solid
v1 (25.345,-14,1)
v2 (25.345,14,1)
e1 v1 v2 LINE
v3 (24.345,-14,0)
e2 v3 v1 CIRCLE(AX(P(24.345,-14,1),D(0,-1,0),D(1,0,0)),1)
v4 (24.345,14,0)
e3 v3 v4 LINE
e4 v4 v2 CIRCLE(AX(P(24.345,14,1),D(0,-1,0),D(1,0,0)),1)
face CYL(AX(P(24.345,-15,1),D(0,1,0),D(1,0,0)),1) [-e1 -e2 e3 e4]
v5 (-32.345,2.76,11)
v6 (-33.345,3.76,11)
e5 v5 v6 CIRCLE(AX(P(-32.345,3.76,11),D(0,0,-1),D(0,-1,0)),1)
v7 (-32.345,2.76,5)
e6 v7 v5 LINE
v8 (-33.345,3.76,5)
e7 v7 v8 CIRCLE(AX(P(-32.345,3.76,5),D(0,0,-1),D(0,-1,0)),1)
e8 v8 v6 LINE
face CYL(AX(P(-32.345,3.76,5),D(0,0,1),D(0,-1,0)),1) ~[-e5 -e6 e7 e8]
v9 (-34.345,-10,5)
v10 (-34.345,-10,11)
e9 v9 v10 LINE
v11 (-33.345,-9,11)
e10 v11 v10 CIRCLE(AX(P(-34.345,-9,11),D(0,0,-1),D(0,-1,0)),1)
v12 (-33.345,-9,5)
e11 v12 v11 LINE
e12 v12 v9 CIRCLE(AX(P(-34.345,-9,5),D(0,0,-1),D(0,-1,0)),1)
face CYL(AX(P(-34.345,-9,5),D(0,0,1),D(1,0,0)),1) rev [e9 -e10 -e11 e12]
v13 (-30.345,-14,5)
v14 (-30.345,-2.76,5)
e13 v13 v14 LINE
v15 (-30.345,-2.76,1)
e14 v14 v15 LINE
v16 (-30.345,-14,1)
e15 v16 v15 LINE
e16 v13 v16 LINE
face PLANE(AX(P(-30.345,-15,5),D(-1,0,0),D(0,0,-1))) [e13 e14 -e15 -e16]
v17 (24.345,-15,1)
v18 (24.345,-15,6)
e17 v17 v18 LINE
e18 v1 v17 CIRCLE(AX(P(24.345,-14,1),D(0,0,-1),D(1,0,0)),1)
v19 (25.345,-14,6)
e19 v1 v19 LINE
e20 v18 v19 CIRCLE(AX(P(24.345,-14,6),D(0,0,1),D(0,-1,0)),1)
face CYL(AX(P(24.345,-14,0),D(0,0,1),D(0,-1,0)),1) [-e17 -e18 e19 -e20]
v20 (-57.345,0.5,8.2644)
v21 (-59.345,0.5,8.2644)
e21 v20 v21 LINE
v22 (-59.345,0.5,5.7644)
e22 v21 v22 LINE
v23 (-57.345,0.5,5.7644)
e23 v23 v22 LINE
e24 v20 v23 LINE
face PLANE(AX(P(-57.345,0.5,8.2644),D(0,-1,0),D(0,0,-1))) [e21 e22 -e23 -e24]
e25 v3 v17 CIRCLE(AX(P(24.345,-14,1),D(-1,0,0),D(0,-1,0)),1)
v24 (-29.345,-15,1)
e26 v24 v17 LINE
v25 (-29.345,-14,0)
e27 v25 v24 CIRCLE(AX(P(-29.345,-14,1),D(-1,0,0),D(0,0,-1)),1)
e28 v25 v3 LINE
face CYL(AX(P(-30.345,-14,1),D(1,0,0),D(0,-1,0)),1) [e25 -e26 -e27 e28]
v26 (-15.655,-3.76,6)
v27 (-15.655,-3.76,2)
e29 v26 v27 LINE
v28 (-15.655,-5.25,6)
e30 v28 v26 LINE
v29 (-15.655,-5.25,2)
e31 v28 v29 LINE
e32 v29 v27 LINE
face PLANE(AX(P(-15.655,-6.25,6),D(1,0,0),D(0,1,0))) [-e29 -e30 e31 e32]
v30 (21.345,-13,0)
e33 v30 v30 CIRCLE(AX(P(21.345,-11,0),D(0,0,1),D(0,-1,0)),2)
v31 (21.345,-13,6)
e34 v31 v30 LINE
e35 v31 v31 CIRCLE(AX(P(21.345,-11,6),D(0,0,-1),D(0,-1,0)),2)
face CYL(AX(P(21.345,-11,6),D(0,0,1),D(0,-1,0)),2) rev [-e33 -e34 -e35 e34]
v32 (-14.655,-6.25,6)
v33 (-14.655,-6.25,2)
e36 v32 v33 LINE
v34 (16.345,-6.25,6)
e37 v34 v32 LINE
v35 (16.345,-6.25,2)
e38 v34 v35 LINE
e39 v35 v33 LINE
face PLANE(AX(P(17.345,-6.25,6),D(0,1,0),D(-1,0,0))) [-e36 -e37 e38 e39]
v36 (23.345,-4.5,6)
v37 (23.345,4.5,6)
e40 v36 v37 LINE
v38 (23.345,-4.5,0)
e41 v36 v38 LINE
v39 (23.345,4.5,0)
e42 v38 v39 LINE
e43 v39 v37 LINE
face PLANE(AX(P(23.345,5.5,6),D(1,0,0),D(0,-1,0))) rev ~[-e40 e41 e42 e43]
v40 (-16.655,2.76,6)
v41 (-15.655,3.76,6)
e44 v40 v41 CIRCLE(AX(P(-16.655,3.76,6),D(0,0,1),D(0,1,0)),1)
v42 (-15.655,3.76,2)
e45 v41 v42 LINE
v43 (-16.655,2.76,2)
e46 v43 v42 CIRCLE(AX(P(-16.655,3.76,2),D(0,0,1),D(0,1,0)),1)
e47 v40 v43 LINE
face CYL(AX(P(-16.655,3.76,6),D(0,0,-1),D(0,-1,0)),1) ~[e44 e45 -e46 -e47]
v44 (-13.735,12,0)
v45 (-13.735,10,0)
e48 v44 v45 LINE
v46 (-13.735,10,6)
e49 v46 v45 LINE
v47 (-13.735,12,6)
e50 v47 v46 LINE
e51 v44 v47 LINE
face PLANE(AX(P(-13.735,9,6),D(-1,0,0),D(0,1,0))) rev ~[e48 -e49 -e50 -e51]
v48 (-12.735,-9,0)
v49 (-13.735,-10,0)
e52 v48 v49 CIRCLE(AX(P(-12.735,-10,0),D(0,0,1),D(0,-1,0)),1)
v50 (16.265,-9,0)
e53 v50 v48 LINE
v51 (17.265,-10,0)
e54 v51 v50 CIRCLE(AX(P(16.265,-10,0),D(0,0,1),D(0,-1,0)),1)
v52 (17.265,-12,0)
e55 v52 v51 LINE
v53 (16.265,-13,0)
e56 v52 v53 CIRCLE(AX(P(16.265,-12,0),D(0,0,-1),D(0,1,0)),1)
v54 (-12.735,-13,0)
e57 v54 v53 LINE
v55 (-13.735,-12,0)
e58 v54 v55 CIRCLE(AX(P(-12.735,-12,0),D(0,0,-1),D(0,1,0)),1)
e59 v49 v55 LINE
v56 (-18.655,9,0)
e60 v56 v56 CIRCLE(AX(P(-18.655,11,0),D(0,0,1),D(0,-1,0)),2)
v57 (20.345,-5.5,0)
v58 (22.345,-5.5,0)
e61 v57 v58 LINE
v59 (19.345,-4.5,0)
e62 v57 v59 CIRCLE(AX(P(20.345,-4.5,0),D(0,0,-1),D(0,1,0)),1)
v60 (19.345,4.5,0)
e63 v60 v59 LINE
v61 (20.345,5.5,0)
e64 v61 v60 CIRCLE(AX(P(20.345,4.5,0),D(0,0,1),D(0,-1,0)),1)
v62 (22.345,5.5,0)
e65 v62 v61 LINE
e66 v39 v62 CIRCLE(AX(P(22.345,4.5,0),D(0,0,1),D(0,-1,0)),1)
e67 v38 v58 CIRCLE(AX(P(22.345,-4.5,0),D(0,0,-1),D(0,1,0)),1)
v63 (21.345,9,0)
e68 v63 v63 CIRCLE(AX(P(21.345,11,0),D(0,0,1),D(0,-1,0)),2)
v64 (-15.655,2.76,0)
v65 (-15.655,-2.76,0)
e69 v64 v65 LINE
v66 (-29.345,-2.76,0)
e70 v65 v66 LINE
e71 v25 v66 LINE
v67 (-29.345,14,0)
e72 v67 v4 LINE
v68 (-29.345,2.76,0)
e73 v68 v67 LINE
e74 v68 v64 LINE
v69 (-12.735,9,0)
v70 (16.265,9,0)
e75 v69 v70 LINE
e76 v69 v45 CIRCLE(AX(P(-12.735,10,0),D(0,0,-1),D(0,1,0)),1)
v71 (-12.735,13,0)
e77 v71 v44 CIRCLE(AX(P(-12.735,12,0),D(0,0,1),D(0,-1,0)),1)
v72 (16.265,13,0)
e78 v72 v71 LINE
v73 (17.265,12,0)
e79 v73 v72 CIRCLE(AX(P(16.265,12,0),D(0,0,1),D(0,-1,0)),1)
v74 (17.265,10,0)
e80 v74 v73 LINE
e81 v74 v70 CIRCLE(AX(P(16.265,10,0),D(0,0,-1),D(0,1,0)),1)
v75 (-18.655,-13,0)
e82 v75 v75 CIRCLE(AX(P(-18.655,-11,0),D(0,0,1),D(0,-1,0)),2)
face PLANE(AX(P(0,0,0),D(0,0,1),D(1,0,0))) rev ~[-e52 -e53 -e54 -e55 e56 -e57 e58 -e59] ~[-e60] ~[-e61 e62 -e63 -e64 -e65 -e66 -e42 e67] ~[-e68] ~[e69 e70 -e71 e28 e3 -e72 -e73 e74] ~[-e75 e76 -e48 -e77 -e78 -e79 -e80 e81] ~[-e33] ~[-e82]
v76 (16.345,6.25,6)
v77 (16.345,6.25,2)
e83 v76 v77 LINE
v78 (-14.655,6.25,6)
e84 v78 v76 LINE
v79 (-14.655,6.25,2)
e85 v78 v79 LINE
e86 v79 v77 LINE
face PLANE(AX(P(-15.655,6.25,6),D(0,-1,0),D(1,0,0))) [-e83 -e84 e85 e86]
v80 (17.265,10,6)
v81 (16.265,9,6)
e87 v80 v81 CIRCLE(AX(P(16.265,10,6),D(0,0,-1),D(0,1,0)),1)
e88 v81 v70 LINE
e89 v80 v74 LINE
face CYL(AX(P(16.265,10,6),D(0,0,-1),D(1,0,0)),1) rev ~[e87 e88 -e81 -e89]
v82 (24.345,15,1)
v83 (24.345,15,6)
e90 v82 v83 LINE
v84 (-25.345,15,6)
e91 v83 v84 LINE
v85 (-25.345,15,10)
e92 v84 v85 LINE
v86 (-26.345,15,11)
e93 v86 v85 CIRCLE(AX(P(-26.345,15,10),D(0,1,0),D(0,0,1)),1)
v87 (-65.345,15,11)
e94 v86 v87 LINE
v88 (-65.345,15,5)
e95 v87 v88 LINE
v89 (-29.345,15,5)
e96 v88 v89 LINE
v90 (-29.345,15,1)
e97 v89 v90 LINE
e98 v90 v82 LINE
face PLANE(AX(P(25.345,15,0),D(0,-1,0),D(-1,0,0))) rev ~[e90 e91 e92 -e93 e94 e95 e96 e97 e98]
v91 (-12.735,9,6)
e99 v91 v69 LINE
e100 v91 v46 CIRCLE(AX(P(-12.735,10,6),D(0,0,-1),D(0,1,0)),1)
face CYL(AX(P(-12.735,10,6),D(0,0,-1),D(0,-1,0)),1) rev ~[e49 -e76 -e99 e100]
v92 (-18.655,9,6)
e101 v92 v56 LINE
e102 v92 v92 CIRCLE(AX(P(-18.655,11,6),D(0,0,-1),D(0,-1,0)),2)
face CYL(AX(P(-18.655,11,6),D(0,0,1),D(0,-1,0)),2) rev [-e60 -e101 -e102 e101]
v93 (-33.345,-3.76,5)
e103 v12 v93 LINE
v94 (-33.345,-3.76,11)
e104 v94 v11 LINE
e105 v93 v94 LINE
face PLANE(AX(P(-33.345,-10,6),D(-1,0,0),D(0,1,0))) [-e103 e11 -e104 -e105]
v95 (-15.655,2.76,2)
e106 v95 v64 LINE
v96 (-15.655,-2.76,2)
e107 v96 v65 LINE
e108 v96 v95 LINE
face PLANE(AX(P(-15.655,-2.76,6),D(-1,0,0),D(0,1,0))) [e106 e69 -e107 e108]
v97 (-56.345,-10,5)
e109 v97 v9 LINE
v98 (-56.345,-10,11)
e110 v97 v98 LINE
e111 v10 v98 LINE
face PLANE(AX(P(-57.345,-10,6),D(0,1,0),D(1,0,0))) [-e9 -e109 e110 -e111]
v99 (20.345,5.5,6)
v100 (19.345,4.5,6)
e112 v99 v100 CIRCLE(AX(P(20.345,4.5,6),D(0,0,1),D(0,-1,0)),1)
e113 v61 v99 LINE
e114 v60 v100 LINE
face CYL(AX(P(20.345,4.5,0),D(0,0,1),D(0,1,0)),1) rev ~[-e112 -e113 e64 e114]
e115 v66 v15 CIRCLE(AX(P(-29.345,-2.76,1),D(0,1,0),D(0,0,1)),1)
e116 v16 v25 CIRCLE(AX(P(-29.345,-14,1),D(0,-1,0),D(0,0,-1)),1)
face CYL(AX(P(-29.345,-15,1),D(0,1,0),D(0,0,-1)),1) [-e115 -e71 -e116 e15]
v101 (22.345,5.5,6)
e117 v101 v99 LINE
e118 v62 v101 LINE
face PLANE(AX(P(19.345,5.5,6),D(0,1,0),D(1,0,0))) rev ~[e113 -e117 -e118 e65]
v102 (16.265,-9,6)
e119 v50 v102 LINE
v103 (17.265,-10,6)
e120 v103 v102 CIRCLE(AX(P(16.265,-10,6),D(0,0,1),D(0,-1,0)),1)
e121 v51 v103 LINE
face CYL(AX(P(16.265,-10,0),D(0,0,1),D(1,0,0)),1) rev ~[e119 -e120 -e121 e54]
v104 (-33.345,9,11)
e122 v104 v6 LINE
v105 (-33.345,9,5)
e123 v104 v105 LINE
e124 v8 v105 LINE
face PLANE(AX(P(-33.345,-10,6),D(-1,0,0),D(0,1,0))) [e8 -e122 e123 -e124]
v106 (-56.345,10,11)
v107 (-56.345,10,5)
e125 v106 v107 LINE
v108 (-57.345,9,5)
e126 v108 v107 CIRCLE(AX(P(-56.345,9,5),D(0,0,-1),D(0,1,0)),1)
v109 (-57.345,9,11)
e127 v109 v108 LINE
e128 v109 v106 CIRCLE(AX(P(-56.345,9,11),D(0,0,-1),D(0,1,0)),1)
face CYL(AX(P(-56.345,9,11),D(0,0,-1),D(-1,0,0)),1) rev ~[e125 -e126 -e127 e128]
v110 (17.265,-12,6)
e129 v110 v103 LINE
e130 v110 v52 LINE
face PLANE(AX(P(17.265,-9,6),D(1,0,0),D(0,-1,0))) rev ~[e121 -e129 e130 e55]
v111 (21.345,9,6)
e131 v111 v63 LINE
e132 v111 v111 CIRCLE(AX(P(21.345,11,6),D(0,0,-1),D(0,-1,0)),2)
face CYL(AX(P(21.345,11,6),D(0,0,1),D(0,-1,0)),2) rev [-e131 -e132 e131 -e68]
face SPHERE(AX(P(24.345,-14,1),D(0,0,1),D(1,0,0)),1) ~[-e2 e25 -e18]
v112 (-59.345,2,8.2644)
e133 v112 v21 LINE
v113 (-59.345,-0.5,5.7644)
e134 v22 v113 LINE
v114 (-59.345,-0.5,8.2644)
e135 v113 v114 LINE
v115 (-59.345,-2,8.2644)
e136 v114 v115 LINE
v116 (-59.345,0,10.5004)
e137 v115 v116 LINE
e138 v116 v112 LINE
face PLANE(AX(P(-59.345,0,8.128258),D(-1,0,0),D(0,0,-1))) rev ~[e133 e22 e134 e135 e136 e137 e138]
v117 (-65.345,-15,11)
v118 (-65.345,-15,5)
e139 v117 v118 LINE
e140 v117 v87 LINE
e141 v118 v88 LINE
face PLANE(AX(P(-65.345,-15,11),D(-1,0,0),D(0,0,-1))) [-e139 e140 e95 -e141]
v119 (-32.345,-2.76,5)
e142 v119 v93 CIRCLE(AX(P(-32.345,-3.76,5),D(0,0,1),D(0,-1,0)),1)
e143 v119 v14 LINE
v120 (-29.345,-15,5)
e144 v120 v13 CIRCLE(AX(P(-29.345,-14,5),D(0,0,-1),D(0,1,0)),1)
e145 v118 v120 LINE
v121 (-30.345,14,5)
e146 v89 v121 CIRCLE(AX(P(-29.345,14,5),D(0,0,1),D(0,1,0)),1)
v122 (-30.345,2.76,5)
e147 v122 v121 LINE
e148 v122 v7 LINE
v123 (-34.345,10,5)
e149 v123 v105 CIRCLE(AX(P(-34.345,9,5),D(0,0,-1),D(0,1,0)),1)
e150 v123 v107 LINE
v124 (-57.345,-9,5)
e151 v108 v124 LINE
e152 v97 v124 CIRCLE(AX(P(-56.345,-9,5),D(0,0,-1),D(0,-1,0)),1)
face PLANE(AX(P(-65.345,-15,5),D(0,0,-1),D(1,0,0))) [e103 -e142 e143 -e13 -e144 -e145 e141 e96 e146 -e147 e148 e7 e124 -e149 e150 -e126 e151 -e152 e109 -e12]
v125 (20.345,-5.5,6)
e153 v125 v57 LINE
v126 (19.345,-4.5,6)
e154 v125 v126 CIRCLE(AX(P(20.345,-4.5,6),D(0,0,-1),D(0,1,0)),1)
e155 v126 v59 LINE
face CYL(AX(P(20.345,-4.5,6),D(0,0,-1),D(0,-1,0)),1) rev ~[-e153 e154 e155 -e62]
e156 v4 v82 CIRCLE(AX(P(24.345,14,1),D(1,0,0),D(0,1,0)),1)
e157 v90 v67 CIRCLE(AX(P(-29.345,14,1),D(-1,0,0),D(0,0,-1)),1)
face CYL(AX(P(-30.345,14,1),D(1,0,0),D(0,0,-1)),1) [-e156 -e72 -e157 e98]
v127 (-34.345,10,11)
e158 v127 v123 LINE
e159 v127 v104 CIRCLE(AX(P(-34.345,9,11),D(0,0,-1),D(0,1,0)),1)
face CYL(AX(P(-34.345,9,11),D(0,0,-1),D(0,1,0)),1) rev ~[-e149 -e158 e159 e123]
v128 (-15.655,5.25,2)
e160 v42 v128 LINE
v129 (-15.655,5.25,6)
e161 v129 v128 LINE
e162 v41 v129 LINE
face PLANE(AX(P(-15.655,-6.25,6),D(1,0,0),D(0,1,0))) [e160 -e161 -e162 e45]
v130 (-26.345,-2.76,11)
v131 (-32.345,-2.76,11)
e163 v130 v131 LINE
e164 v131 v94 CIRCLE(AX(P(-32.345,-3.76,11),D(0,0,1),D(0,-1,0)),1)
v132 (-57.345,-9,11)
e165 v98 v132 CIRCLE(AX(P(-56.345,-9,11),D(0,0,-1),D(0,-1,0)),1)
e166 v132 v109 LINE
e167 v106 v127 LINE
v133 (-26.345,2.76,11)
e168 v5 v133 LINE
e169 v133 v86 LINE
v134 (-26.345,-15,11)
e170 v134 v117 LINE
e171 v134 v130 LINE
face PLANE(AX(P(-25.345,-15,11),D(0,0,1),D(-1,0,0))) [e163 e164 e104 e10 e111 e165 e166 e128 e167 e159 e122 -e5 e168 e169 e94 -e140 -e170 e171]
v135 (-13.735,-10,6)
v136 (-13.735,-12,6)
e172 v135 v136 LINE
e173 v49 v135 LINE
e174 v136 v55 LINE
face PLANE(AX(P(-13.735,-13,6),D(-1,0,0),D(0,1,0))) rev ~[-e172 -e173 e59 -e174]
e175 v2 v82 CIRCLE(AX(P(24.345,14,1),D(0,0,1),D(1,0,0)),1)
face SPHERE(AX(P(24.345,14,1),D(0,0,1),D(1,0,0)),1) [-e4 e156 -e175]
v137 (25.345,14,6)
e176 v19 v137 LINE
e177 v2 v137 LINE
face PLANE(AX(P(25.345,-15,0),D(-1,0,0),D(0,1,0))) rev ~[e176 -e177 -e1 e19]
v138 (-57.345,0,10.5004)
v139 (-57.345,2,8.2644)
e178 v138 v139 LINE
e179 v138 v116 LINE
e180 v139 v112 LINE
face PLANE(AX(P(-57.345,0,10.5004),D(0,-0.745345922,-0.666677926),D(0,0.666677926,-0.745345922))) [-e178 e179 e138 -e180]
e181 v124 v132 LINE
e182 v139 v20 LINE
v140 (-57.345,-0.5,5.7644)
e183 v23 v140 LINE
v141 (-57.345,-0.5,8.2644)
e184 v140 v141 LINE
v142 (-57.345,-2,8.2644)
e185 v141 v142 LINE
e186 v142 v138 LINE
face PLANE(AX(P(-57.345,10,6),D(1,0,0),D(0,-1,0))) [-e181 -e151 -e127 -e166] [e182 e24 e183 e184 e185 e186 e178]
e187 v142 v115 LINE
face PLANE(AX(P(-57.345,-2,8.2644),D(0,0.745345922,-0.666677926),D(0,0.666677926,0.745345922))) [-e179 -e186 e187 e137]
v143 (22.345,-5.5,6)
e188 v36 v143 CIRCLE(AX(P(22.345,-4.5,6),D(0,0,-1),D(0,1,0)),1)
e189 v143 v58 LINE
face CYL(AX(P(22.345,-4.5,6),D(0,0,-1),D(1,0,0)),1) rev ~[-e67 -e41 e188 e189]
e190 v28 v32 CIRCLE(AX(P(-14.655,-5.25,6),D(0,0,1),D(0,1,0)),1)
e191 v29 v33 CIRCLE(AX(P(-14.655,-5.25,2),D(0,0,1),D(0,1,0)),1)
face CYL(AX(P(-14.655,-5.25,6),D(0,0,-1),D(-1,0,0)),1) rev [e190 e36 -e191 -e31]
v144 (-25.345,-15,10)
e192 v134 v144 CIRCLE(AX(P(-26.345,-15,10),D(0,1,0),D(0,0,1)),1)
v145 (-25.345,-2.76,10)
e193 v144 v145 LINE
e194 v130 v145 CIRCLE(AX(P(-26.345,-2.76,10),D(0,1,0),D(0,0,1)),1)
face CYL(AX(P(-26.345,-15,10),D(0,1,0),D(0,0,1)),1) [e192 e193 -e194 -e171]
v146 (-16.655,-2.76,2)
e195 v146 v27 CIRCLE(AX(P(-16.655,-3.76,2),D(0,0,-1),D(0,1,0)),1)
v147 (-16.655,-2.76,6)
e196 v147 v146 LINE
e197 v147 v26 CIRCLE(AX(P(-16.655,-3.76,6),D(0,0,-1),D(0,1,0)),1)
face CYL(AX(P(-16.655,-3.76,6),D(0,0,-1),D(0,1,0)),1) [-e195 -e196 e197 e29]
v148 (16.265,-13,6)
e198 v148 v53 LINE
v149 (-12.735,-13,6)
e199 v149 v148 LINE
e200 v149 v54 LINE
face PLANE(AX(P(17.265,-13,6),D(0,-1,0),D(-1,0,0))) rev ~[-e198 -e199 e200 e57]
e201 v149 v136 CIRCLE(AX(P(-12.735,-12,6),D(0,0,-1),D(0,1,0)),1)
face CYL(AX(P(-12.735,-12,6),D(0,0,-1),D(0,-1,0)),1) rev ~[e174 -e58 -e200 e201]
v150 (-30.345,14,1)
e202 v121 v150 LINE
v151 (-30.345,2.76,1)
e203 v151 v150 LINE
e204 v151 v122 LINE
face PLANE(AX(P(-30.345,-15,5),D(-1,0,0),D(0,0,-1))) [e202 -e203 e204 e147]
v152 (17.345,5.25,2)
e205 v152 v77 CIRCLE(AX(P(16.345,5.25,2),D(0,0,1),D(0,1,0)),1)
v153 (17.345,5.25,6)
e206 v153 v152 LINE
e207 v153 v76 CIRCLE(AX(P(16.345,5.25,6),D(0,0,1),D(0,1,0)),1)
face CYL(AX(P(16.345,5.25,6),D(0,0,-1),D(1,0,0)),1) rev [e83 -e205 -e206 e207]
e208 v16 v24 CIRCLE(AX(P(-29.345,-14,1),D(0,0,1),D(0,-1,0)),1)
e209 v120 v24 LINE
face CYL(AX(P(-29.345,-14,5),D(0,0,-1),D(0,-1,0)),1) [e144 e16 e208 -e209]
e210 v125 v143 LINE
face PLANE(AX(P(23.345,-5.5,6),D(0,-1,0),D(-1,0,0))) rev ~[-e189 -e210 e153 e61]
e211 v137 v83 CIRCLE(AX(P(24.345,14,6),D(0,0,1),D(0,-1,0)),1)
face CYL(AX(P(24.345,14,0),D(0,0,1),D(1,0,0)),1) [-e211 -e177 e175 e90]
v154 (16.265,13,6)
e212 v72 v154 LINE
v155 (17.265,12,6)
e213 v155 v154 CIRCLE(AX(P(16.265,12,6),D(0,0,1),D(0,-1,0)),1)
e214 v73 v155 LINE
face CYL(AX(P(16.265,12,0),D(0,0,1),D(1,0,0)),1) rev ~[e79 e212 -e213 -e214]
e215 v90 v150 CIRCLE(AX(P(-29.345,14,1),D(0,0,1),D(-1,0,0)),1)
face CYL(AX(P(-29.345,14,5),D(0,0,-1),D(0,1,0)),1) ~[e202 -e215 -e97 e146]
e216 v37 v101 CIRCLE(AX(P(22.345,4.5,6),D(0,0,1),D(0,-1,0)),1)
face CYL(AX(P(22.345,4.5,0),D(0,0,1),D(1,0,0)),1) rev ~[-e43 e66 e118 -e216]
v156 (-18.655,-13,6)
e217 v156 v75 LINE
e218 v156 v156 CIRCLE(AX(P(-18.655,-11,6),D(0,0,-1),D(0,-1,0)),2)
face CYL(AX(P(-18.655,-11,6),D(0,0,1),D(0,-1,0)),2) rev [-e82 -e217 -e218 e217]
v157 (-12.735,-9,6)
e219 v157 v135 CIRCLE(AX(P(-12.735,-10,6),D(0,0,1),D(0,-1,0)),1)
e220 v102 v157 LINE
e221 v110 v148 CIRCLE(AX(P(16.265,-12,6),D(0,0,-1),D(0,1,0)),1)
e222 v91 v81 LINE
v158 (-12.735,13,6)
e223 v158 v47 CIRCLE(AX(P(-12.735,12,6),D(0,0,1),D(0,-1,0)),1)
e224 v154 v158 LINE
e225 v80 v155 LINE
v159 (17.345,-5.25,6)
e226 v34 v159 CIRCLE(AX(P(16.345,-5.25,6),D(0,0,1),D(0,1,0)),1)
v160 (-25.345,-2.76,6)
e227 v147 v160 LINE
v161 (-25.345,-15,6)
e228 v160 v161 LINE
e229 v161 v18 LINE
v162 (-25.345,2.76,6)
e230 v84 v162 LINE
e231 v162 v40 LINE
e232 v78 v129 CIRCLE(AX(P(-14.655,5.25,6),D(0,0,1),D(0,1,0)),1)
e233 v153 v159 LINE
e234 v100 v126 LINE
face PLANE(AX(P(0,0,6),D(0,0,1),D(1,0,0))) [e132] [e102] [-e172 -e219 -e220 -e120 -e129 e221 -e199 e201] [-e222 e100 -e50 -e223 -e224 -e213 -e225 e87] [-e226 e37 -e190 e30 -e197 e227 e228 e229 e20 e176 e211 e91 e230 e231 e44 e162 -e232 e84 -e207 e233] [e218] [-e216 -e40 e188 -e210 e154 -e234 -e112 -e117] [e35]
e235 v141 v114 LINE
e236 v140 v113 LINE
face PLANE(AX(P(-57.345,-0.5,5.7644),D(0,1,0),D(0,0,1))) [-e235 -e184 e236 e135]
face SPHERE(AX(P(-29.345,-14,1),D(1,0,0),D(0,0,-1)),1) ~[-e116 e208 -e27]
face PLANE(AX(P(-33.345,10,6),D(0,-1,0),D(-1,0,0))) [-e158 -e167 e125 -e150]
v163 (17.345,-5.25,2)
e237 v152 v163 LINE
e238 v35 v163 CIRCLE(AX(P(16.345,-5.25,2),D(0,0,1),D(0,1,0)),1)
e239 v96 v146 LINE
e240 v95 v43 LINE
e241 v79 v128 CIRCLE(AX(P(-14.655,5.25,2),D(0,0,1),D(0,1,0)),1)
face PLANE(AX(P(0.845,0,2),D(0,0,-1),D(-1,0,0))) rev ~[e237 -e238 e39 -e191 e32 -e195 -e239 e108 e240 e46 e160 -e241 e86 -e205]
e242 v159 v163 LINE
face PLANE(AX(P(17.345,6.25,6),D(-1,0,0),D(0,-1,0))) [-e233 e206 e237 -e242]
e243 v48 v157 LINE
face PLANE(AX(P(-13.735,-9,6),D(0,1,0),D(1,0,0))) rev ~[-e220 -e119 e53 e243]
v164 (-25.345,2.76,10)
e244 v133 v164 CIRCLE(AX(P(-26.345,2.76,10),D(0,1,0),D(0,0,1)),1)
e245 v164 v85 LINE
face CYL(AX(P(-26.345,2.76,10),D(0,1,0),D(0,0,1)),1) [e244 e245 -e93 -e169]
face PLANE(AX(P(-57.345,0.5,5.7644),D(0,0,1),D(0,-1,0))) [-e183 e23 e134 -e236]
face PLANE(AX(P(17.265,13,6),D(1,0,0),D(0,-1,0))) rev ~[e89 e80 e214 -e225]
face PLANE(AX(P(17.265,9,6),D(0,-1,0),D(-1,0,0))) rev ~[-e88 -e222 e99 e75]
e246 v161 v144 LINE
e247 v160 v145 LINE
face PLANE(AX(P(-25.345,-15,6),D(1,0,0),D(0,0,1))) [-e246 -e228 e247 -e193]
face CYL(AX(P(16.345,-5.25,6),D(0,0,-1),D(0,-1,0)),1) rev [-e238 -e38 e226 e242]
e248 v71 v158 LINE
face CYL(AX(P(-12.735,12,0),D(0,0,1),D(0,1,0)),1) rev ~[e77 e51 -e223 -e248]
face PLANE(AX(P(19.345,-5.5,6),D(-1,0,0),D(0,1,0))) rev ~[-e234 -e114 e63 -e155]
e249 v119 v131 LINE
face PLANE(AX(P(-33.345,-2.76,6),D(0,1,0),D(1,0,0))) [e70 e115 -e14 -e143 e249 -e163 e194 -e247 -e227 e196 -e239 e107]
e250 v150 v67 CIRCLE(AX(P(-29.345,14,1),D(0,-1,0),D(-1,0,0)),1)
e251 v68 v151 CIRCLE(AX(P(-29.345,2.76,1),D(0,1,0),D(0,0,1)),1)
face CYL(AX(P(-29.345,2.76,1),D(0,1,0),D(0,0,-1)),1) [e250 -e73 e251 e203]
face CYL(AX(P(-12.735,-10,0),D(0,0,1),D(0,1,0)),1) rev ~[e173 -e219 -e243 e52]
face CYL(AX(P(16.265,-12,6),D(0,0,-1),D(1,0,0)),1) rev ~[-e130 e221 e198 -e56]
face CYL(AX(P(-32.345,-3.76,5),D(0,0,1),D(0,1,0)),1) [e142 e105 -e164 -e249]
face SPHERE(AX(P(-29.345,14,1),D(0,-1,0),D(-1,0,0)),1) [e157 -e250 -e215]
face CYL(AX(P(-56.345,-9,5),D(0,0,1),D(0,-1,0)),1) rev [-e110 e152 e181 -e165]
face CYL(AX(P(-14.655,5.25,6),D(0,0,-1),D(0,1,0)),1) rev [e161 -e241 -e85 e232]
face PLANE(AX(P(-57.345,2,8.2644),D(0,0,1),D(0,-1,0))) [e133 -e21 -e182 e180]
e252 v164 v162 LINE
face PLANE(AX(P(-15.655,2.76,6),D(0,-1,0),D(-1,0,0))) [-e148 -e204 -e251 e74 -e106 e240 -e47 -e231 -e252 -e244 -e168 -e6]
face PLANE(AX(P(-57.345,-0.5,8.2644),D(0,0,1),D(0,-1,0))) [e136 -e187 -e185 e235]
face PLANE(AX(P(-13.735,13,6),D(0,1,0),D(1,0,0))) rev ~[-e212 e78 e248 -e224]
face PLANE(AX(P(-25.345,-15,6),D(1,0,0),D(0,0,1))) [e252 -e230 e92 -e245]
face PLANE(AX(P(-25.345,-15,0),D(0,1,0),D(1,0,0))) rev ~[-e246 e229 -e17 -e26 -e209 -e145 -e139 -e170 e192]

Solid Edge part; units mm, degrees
sketch "Sketch1" plane through (0, 0, 0) normal (0, 0, 1) x (1, 0, 0)
  line L0 (-25.345, -15) -> (25.345, -15)
  line L1 (25.345, -15) -> (25.345, 15)
  line L2 (25.345, 15) -> (-25.345, 15)
  line L3 (-25.345, 15) -> (-25.345, -15)
  dimension "D1" = 50.69
  dimension "D2" = 30
extrude "Protrusion1" add sketch "Sketch1" along normal blind 6
sketch "Sketch2" plane through (0, 0, 6) normal (0, 0, 1) x (1, 0, 0)
  line L0 (-15.655, 6.25) -> (17.345, 6.25)
  line L1 (17.345, 6.25) -> (17.345, -6.25)
  line L2 (17.345, -6.25) -> (-15.655, -6.25)
  line L3 (-15.655, -6.25) -> (-15.655, 6.25)
  dimension "D1" = 33
  dimension "D2" = 12.5
  dimension "D3" = 8.75
  dimension "D4" = 8
extrude "Utskärning_för_batteriet" cut sketch "Sketch2" against normal blind 4
hole "Hole1" at (21.345, 11, 6) direction (0, 0, -1) diameter 4 end up to next
hole "Hole2" at (21.345, -11, 6) direction (0, 0, -1) diameter 4 end up to next
hole "Hole3" at (-18.655, 11, 6) direction (0, 0, -1) diameter 4 end up to next
hole "Hole4" at (-18.655, -11, 6) direction (0, 0, -1) diameter 4 end up to next
sketch "Sketch3" plane through (-0.5, -15, 3) normal (0, -1, 0) x (1, 0, 0)
  line L0 (-24.845, 3) -> (-24.845, 8)
  line L1 (-24.845, 8) -> (-64.845, 8)
  line L2 (-64.845, 8) -> (-64.845, 2)
  line L3 (-64.845, 2) -> (-29.845, 2)
  line L4 (-29.845, 2) -> (-29.845, -3)
  line L5 (-29.845, -3) -> (-24.845, -3)
  line L6 (-24.845, -3) -> (-24.845, 3)
  dimension "D1" = 40
  dimension "D2" = 6
  dimension "D3" = 35
  dimension "D4" = 5
extrude "Protrusion2" add sketch "Sketch3" against normal up to vertex (30 mm away)
sketch "Sketch4" plane through (0, 0, 6) normal (0, 0, 1) x (0, -1, 0)
  line L0 (-5.5, 23.345) -> (5.5, 23.345)
  line L1 (5.5, 23.345) -> (5.5, 19.345)
  line L2 (5.5, 19.345) -> (-5.5, 19.345)
  line L3 (-5.5, 19.345) -> (-5.5, 23.345)
  line L4 (-13, 17.265) -> (-9, 17.265)
  line L5 (-9, 17.265) -> (-9, -13.735)
  line L6 (-9, -13.735) -> (-13, -13.735)
  line L7 (-13, -13.735) -> (-13, 17.265)
  line L8 (9, 17.265) -> (13, 17.265)
  line L9 (13, 17.265) -> (13, -13.735)
  line L10 (13, -13.735) -> (9, -13.735)
  line L11 (9, -13.735) -> (9, 17.265)
  line L12 (-10, -57.345) -> (10, -57.345)
  line L13 (10, -57.345) -> (10, -33.345)
  line L14 (10, -33.345) -> (-10, -33.345)
  line L15 (-10, -33.345) -> (-10, -57.345)
  dimension "D1" = 4
  dimension "D2" = 31
  dimension "D3" = 4
  dimension "D4" = 31
  dimension "D5" = 2
  dimension "D6" = 11
  dimension "D7" = 4
  dimension "D8" = 2
  dimension "D9" = 5.5
  dimension "D10" = 8.08
  dimension "D11" = 2
  dimension "D12" = 8.08
  dimension "D13" = 5
  dimension "D14" = 5
  dimension "D15" = 8
  dimension "D16" = 24
extrude "Cutout1" cut sketch "Sketch4" along normal through all and the other way through all
sketch "Sketch5" plane through (0, 0, 6) normal (0, 0, 1) x (0, -1, 0)
  line L0 (-2.76, -15.655) -> (-2.76, -33.345)
  line L1 (-2.76, -33.345) -> (2.76, -33.345)
  line L2 (2.76, -33.345) -> (2.76, -15.655)
  line L3 (2.76, -15.655) -> (-2.76, -15.655)
  dimension "D1" = 12.24
  dimension "D2" = 12.24
extrude "Cutout2" cut sketch "Sketch5" along normal through all and the other way through all
fillet "Avrundningar_1" radius 1 35 edges at (25.345, 15, 3) (17.345, 6.25, 4) (25.345, -15, 3) (17.345, -6.25, 4) (25.345, 0, 0) (-15.655, -6.25, 4) (-15.655, 6.25, 4) (-2.5, -15, 0) (-30.345, 8.88, 0) (-30.345, -8.88, 0) (-30.345, -15, 2.5) (-30.345, 15, 2.5) (-2.5, 15, 0) (-15.655, 2.76, 4) (-15.655, -2.76, 4) (-33.345, 10, 8) (-33.345, -10, 8) (-57.345, 10, 8) (-57.345, -10, 8) (-33.345, 2.76, 8) (-33.345, -2.76, 8) (-13.735, 13, 3) (-13.735, 9, 3) (-13.735, -13, 3) (-13.735, -9, 3) (17.265, 13, 3) (17.265, -9, 3) (17.265, 9, 3) (23.345, -5.5, 3) (17.265, -13, 3) (23.345, 5.5, 3) (19.345, -5.5, 3) (19.345, 5.5, 3) (-25.345, 8.88, 11) (-25.345, -8.88, 11)
sketch "Sketch6" plane through (-57.345, 0, 6) normal (1, 0, 0) x (0, -1, 0)
  line L0 (0, -4.5004) -> (-2, -2.2644)
  line L1 (-2, -2.2644) -> (-0.5, -2.2644)
  line L2 (-0.5, -2.2644) -> (-0.5, 0.2356)
  line L3 (-0.5, 0.2356) -> (0.5, 0.2356)
  line L4 (0.5, 0.2356) -> (0.5, -2.2644)
  line L5 (0.5, -2.2644) -> (2, -2.2644)
  line L6 (2, -2.2644) -> (0, -4.5004)
  dimension "D1" = 2.5
  dimension "D2" = 3
  dimension "D3" = 1.5
  dimension "D4" = 1
  dimension "D5" = 0.4996
extrude "Utskärning_pil" cut sketch "Sketch6" against normal blind 2
